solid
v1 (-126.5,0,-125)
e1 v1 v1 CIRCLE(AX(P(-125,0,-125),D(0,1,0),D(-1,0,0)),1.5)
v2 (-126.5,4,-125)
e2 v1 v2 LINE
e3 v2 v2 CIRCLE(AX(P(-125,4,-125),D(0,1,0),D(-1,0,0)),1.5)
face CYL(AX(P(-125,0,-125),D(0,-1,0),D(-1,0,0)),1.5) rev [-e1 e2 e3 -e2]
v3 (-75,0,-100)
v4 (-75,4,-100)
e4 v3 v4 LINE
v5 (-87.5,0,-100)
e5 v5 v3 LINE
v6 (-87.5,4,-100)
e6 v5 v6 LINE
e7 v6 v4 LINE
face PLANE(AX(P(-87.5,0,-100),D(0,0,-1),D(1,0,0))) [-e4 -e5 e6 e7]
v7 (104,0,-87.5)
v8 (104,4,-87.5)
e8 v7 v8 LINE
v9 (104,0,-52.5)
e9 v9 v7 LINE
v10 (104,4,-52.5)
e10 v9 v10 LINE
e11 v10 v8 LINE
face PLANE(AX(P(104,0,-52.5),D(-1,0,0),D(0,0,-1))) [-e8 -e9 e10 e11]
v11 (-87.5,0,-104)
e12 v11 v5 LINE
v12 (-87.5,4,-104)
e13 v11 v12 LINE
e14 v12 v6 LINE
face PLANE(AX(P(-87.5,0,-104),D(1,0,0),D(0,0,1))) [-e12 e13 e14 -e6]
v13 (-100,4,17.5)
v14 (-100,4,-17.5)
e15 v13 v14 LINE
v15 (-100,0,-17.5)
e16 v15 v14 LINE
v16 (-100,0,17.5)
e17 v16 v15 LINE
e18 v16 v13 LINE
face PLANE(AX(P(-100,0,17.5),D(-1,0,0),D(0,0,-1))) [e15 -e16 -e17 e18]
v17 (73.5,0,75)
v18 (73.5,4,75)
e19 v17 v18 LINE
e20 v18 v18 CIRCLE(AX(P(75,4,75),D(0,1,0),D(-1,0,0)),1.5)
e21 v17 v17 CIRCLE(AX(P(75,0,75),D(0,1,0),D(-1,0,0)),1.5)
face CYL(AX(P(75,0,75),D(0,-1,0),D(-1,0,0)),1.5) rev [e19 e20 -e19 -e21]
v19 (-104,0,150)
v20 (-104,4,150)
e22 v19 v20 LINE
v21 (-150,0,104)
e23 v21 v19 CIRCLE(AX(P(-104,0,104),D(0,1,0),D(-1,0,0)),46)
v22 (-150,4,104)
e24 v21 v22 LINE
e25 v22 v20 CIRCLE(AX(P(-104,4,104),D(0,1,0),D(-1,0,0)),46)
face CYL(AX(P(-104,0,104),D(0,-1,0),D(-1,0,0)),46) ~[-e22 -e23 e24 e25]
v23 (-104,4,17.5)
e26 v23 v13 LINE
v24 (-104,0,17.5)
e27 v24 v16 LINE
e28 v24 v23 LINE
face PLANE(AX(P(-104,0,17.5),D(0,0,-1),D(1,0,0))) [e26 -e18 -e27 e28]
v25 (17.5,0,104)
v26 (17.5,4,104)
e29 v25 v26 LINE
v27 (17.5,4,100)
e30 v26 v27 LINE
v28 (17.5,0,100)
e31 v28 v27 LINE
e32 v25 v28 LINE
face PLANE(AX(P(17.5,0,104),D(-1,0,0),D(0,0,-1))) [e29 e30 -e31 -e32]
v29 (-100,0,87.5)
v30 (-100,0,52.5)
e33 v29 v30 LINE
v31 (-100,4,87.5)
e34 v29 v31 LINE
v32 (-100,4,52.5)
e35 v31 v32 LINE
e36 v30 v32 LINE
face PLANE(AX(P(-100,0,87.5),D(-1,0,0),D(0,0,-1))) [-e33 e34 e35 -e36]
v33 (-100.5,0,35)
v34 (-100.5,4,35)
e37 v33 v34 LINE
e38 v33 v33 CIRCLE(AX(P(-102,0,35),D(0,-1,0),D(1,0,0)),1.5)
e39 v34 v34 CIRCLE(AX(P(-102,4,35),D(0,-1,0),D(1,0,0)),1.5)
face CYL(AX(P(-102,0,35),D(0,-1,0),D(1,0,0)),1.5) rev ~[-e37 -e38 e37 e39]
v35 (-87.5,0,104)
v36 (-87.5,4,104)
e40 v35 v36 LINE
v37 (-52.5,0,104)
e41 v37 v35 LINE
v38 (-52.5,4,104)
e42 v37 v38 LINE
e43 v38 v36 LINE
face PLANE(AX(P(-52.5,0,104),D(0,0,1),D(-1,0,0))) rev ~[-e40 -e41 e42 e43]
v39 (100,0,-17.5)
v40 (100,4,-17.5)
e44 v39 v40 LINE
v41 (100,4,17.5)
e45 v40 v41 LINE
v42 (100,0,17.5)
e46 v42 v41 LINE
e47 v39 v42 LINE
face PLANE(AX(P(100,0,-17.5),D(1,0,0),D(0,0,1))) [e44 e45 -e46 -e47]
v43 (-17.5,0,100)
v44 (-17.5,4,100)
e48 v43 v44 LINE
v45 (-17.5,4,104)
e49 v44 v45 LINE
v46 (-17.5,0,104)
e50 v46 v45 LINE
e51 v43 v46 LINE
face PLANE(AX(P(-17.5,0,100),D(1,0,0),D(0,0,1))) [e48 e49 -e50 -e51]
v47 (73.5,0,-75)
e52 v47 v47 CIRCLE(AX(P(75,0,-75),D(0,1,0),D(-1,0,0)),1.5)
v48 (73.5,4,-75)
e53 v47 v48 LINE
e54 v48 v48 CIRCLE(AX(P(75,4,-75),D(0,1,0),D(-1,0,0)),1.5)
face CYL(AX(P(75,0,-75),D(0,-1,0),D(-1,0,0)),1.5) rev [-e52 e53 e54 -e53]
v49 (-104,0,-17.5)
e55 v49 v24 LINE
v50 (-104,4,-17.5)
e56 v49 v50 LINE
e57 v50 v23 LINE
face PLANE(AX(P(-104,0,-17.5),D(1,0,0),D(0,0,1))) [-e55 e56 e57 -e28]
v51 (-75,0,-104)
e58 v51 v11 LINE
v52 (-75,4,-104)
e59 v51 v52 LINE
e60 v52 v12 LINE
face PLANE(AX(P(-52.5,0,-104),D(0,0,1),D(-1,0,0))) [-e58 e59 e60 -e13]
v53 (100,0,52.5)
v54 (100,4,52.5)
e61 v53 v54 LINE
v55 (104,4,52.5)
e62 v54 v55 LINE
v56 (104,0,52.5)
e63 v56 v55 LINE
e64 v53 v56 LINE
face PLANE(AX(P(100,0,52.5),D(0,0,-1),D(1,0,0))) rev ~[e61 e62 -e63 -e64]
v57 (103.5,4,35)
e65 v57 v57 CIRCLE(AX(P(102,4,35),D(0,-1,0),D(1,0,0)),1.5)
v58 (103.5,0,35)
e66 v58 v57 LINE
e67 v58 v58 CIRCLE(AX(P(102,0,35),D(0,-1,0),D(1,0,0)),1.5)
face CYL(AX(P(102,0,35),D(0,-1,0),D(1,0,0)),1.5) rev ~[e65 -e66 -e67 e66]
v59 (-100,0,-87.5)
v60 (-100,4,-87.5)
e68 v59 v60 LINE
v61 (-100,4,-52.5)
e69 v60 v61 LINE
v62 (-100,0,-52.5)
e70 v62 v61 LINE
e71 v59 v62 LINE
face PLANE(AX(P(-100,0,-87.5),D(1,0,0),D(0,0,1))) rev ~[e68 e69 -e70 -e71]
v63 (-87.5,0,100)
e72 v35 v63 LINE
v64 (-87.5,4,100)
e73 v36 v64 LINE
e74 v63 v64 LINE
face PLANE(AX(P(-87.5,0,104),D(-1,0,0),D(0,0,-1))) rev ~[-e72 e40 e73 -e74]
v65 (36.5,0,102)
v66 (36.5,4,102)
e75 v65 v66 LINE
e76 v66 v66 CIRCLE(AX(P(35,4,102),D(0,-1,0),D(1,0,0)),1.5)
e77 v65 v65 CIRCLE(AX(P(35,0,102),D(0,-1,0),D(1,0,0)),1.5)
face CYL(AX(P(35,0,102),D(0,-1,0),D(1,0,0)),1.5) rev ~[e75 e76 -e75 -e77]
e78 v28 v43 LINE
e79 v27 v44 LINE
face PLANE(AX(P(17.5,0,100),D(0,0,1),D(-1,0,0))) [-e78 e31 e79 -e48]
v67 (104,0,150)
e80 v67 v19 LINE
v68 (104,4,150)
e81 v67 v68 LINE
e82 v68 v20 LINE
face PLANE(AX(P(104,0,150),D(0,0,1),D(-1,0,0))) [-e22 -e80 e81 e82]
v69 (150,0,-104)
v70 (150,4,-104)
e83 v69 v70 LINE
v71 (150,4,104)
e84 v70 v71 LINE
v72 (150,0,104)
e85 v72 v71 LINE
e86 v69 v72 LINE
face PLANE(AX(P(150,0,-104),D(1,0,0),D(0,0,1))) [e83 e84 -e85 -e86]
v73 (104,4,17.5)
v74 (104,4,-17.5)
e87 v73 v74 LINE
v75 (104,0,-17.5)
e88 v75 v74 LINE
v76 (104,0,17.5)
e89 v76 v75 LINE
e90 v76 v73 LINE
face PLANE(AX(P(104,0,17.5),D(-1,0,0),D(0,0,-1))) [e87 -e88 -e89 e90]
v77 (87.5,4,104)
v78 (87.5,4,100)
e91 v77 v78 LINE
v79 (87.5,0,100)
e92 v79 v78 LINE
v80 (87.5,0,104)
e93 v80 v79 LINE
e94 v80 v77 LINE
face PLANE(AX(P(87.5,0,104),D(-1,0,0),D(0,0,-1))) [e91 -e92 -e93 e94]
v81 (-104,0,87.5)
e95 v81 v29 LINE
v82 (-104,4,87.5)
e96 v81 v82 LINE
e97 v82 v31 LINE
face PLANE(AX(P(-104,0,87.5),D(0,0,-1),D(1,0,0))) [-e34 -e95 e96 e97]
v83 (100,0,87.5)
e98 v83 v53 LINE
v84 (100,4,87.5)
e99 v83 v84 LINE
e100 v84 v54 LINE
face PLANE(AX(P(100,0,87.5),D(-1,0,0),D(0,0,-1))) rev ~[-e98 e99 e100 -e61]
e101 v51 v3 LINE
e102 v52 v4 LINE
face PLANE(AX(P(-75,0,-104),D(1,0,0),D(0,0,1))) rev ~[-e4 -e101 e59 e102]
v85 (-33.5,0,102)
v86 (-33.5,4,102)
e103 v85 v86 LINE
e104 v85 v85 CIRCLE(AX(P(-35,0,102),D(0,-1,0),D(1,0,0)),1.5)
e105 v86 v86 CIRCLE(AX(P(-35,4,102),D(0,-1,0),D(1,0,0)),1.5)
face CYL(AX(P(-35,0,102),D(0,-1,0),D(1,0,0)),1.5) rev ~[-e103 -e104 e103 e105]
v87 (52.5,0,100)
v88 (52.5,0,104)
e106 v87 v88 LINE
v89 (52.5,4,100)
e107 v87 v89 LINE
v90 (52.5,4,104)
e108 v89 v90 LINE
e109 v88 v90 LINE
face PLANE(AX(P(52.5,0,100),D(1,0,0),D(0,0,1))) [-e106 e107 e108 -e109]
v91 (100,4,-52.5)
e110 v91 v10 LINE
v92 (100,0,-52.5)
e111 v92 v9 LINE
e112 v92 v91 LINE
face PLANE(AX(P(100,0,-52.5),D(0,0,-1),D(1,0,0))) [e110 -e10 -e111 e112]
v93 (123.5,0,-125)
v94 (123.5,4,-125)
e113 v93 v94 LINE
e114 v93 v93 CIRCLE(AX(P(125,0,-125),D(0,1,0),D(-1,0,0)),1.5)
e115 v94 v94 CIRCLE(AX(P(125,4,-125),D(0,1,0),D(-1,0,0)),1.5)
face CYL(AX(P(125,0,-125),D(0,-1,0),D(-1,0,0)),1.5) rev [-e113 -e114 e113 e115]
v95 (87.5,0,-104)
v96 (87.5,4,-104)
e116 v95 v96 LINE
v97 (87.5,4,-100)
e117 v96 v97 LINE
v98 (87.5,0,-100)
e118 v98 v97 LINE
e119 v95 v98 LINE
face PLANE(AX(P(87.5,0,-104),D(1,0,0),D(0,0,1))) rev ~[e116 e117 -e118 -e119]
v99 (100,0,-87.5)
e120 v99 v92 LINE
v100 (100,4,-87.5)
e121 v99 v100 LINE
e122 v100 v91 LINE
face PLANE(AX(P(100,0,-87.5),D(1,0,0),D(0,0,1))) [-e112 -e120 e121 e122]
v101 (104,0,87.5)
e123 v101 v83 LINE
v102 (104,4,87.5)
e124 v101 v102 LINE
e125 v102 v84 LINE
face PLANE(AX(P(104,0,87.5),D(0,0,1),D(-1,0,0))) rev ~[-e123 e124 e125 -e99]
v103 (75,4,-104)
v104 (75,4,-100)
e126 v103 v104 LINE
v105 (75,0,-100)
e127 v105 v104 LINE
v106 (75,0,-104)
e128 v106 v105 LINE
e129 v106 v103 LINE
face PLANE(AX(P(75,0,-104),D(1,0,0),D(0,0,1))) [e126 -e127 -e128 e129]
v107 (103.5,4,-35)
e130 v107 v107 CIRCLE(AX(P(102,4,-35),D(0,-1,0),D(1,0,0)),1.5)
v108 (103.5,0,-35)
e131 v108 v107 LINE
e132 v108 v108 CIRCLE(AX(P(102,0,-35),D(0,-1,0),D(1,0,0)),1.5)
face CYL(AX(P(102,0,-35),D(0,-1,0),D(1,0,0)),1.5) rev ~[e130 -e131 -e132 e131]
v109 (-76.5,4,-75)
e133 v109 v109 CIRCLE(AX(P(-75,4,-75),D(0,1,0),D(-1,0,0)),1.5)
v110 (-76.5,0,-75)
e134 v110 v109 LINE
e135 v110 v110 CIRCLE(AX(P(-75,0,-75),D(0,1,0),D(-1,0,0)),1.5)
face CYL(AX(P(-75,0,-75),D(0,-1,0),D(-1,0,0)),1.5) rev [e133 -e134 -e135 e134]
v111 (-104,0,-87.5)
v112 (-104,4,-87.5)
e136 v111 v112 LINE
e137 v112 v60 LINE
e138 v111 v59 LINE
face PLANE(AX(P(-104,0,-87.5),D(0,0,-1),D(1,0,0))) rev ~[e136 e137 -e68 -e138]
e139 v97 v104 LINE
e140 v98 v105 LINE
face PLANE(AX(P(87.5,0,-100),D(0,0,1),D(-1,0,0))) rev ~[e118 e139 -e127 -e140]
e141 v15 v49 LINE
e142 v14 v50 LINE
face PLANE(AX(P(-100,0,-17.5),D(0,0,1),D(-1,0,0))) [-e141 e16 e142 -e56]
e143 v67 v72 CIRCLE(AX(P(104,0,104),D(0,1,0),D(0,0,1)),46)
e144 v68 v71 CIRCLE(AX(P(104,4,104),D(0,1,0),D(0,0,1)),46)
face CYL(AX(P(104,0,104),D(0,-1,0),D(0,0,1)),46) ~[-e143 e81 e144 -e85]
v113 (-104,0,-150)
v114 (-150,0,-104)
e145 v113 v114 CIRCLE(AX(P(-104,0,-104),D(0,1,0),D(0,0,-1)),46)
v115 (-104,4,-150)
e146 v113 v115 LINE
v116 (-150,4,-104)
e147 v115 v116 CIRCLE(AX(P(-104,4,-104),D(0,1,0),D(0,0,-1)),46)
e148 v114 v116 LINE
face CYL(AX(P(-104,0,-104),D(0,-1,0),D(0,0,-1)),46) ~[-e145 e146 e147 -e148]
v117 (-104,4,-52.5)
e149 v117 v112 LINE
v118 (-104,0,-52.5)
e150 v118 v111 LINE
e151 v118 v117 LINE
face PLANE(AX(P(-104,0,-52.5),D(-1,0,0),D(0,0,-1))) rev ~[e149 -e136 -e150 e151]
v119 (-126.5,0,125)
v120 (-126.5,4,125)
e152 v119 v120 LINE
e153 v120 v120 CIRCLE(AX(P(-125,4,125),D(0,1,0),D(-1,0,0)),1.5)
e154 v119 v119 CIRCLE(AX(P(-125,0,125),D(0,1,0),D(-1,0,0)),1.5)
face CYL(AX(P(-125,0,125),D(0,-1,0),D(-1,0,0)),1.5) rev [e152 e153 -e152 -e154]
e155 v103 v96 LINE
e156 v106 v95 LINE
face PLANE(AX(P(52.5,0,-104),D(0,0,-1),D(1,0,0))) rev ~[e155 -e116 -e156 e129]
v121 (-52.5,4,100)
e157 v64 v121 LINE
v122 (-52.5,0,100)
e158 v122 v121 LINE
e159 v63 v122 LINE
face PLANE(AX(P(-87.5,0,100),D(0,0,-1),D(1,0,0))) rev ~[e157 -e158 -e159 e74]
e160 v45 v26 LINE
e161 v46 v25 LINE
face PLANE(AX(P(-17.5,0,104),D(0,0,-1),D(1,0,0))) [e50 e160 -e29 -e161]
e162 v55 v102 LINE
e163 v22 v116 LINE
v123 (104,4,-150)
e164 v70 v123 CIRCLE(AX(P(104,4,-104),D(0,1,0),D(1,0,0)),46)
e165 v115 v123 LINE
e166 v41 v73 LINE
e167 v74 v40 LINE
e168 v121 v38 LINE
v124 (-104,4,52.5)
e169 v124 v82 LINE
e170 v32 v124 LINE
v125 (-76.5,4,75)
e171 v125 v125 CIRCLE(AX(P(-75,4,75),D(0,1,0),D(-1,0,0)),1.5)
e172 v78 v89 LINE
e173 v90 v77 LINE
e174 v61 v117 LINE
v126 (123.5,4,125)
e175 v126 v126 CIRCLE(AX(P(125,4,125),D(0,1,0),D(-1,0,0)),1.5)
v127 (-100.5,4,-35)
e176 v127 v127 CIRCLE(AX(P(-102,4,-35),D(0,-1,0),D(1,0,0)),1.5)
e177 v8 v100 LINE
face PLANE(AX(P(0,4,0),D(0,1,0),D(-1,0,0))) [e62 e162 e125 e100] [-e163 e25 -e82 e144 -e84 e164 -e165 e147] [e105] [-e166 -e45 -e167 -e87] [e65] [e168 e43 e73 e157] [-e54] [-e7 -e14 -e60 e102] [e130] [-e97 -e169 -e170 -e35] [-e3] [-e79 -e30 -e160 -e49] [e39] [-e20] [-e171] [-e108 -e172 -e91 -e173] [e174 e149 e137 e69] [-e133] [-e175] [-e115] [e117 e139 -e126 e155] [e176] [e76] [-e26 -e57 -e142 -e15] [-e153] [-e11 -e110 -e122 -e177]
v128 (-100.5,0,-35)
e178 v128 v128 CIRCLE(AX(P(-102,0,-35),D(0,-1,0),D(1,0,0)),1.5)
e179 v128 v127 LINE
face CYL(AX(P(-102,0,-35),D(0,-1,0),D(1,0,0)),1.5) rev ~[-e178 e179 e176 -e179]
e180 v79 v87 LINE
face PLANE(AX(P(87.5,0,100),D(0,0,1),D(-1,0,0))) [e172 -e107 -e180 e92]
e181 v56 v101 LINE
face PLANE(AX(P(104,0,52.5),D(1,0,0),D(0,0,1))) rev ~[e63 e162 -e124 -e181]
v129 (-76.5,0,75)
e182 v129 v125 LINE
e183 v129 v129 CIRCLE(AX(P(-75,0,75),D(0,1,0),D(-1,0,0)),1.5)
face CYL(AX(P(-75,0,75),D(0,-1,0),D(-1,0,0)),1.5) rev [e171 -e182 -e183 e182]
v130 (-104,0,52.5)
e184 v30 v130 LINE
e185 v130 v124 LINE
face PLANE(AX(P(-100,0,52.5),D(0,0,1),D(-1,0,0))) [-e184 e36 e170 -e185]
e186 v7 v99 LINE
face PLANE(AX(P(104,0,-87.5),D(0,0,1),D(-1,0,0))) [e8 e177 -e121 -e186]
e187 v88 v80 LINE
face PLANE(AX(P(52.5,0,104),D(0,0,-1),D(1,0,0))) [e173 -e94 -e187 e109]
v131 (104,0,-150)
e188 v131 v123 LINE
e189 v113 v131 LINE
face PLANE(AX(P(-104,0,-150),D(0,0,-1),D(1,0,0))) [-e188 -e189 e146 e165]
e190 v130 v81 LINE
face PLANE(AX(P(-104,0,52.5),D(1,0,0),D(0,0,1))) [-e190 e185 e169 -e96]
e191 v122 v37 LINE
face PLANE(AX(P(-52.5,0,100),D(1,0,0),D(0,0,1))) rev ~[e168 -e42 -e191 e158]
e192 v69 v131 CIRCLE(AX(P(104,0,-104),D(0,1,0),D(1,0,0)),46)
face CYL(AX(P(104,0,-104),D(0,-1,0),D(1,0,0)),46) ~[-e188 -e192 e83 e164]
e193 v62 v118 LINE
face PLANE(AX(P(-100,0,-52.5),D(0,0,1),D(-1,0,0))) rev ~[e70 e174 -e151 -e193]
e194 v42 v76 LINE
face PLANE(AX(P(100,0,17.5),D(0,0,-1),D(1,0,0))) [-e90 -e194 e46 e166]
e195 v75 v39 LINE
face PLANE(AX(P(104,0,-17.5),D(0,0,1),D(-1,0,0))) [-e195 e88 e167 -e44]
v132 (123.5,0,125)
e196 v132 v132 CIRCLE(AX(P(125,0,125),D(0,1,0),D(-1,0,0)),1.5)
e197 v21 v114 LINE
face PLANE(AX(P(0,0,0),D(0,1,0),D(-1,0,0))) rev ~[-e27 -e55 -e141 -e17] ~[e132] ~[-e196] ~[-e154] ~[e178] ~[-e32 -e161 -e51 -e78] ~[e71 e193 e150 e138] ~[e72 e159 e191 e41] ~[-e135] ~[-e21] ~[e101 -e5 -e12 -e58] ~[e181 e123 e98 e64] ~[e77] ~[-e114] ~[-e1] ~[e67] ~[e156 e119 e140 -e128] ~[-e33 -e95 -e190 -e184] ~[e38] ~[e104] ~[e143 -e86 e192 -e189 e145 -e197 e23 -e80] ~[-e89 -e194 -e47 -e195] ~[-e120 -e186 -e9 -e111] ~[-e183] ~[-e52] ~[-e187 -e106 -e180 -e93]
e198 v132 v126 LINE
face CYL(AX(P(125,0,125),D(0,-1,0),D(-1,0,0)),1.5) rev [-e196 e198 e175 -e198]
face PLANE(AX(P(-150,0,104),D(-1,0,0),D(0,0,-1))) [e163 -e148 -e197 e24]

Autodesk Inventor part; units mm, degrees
ref_plane "YZ Plane" through (0, 0, 0) normal (1, 0, 0) x (0, 1, 0)
ref_plane "XZ Plane" through (0, 0, 0) normal (0, 1, 0) x (-1, 0, 0)
ref_plane "XY Plane" through (0, 0, 0) normal (0, 0, 1) x (1, 0, 0)
sketch "Sketch1" plane through (0, 0, 0) normal (0, 1, 0) x (-1, 0, 0)
  line L0 (-104, 150) -> (104, 150)
  line L1 (150, 104) -> (150, -104)
  line L2 (104, -150) -> (-104, -150)
  line L3 (-150, -104) -> (-150, 104)
  line L4 (-150, 150) -> (150, -150) construction
  line L5 (150, 150) -> (-150, -150) construction
  line L6 (-100, 100) -> (100, 100) construction
  line L7 (100, 100) -> (100, -100) construction
  line L8 (100, -100) -> (-100, -100) construction
  line L9 (-100, -100) -> (-100, 100) construction
  line L10 (-100, 100) -> (100, -100) construction
  line L11 (100, 100) -> (-100, -100) construction
  line L12 (-125, 125) -> (125, 125) construction
  line L13 (125, 125) -> (125, -125) construction
  line L14 (125, -125) -> (-125, -125) construction
  line L15 (-125, -125) -> (-125, 125) construction
  line L16 (-125, 125) -> (125, -125) construction
  line L17 (125, 125) -> (-125, -125) construction
  line L18 (-75, 75) -> (75, 75) construction
  line L19 (75, 75) -> (75, -75) construction
  line L20 (75, -75) -> (-75, -75) construction
  line L21 (-75, -75) -> (-75, 75) construction
  line L22 (-75, 75) -> (75, -75) construction
  line L23 (75, 75) -> (-75, -75) construction
  line L24 (-104, -104) -> (104, -104) construction
  line L25 (104, -104) -> (104, 104) construction
  line L26 (104, 104) -> (-104, 104) construction
  line L27 (-104, 104) -> (-104, -104) construction
  circle A0 centre (125, -125) radius 1.5
  circle A1 centre (75, -75) radius 1.5
  circle A2 centre (75, 75) radius 1.5
  circle A3 centre (125, 125) radius 1.5
  circle A4 centre (-75, 75) radius 1.5
  circle A5 centre (-125, 125) radius 1.5
  circle A6 centre (-75, -75) radius 1.5
  circle A7 centre (-125, -125) radius 1.5
  line L28 (17.5, -100) -> (-17.5, -100)
  line L29 (-17.5, -100) -> (-17.5, -104)
  line L30 (-17.5, -104) -> (17.5, -104)
  line L31 (17.5, -104) -> (17.5, -100)
  arc A8 (104, -150) -> (150, -104) centre (104, -104) ccw
  arc A9 (150, 104) -> (104, 150) centre (104, 104) ccw
  arc A10 (-150, -104) -> (-104, -150) centre (-104, -104) ccw
  arc A11 (-104, 150) -> (-150, 104) centre (-104, 104) ccw
  line L32 (87.5, -100) -> (52.5, -100)
  line L33 (52.5, -100) -> (52.5, -104)
  line L34 (52.5, -104) -> (87.5, -104)
  line L35 (87.5, -104) -> (87.5, -100)
  line L36 (-87.5, -100) -> (-52.5, -100)
  line L37 (-52.5, -100) -> (-52.5, -104)
  line L38 (-52.5, -104) -> (-87.5, -104)
  line L39 (-87.5, -104) -> (-87.5, -100)
  line L40 (52.5, -104) -> (17.5, -100) construction
  line L41 (-17.5, -100) -> (-52.5, -104) construction
  line L42 (100, 17.5) -> (100, -17.5)
  line L43 (104, -17.5) -> (104, 17.5)
  line L44 (104, 17.5) -> (100, 17.5)
  line L45 (100, 52.5) -> (104, 52.5)
  line L46 (100, 87.5) -> (100, 52.5)
  line L47 (104, 87.5) -> (100, 87.5)
  line L48 (104, 52.5) -> (104, 87.5)
  line L49 (104, 52.5) -> (100, 17.5) construction
  line L50 (100, -17.5) -> (104, -17.5)
  line L51 (100, -17.5) -> (104, -52.5) construction
  line L52 (100, -52.5) -> (104, -52.5)
  line L53 (104, -87.5) -> (100, -87.5)
  line L54 (104, -52.5) -> (104, -87.5)
  line L55 (100, -87.5) -> (100, -52.5)
  line L56 (-17.5, 100) -> (17.5, 100)
  line L57 (17.5, 104) -> (-17.5, 104)
  line L58 (-17.5, 104) -> (-17.5, 100)
  line L59 (-52.5, 100) -> (-52.5, 104)
  line L60 (-87.5, 100) -> (-52.5, 100)
  line L61 (-87.5, 104) -> (-87.5, 100)
  line L62 (-52.5, 104) -> (-87.5, 104)
  line L63 (-52.5, 104) -> (-17.5, 100) construction
  line L64 (17.5, 100) -> (17.5, 104)
  line L65 (17.5, 100) -> (52.5, 104) construction
  line L66 (52.5, 100) -> (52.5, 104)
  line L67 (87.5, 104) -> (87.5, 100)
  line L68 (52.5, 104) -> (87.5, 104)
  line L69 (87.5, 100) -> (52.5, 100)
  line L70 (-100, -17.5) -> (-100, 17.5)
  line L71 (-104, 17.5) -> (-104, -17.5)
  line L72 (-104, -17.5) -> (-100, -17.5)
  line L73 (-100, -52.5) -> (-104, -52.5)
  line L74 (-100, -87.5) -> (-100, -52.5)
  line L75 (-104, -87.5) -> (-100, -87.5)
  line L76 (-104, -52.5) -> (-104, -87.5)
  line L77 (-104, -52.5) -> (-100, -17.5) construction
  line L78 (-100, 17.5) -> (-104, 17.5)
  line L79 (-100, 17.5) -> (-104, 52.5) construction
  line L80 (-100, 52.5) -> (-104, 52.5)
  line L81 (-104, 87.5) -> (-100, 87.5)
  line L82 (-104, 52.5) -> (-104, 87.5)
  line L83 (-100, 87.5) -> (-100, 52.5)
  point P0 (0, 0)
  point P1 (0, -100)
  point P2 (87.5, -102)
  point P3 (100, 0)
  point P4 (102, 87.5)
  point P5 (0, 100)
  point P6 (-87.5, 102)
  point P7 (-100, 0)
  point P8 (-102, -87.5)
  dimension "d0" = 300
  dimension "d1" = 300
  dimension "d2" = 200
  dimension "d3" = 200
  dimension "d4" = 4
  dimension "d5" = 25
  dimension "d6" = 25
  dimension "d7" = 3
  dimension "d8" = 3
  dimension "d11" = 360
  dimension "d16" = 4
  dimension "d24" = 46
  dimension "d25" = 46
  dimension "d31" = 35
  dimension "d32" = 35
  dimension "d35" = 360
extrude "Extrusion1" add sketch "Sketch1" along normal blind 4
sketch "Sketch3" plane through (0, 0, 0) normal (0, -1, 0) x (1, 0, 0)
  circle A0 centre (-35, 102) radius 1.5
  circle A1 centre (35, 102) radius 1.5
  line L0 (-52.5, 104) -> (-17.5, 100) construction
  line L1 (17.5, 100) -> (52.5, 104) construction
  circle A2 centre (-102, -35) radius 1.5
  circle A3 centre (-102, 35) radius 1.5
  circle A4 centre (35, -102) radius 1.5
  circle A5 centre (-35, -102) radius 1.5
  circle A6 centre (102, 35) radius 1.5
  circle A7 centre (102, -35) radius 1.5
  point P0 (0, 0)
  dimension "d44" = 3
  dimension "d45" = 3
  dimension "d48" = 360
extrude "Extrusion2" cut sketch "Sketch3" against normal up to next
sketch "Sketch4" plane through (0, 0, 0) normal (0, -1, 0) x (1, 0, 0)
  line L0 (87.5, -100) -> (-87.5, -100)
  line L1 (-87.5, -100) -> (-87.5, -104)
  line L2 (-87.5, -104) -> (-75, -104)
  line L3 (-75, -104) -> (-75, -135)
  line L4 (-75, -135) -> (75, -135)
  line L5 (75, -135) -> (75, -104)
  line L6 (75, -104) -> (87.5, -104)
  line L7 (87.5, -104) -> (87.5, -100)
  circle A0 centre (102, 35) radius 1.5
  circle A1 centre (-102, -35) radius 1.5
  circle A2 centre (-35, 102) radius 1.5
  circle A3 centre (102, -35) radius 1.5
  circle A4 centre (-102, 35) radius 1.5
  circle A5 centre (35, 102) radius 1.5
  circle A6 centre (125, -125) radius 1.5
  circle A7 centre (125, 125) radius 1.5
  circle A8 centre (-125, 125) radius 1.5
  circle A9 centre (-125, -125) radius 1.5
  line L8 (100, 17.5) -> (100, -17.5)
  line L9 (100, -17.5) -> (104, -17.5)
  line L10 (104, -17.5) -> (104, 17.5)
  line L11 (104, 17.5) -> (100, 17.5)
  line L12 (100, 52.5) -> (104, 52.5)
  line L13 (104, 52.5) -> (104, 87.5)
  line L14 (104, 87.5) -> (100, 87.5)
  line L15 (100, 87.5) -> (100, 52.5)
  line L16 (100, -52.5) -> (100, -87.5)
  line L17 (100, -87.5) -> (104, -87.5)
  line L18 (104, -87.5) -> (104, -52.5)
  line L19 (104, -52.5) -> (100, -52.5)
  line L20 (-17.5, 100) -> (17.5, 100)
  line L21 (17.5, 100) -> (17.5, 104)
  line L22 (17.5, 104) -> (-17.5, 104)
  line L23 (-17.5, 104) -> (-17.5, 100)
  line L24 (-52.5, 100) -> (-52.5, 104)
  line L25 (-52.5, 104) -> (-87.5, 104)
  line L26 (-87.5, 104) -> (-87.5, 100)
  line L27 (-87.5, 100) -> (-52.5, 100)
  line L28 (52.5, 100) -> (87.5, 100)
  line L29 (87.5, 100) -> (87.5, 104)
  line L30 (87.5, 104) -> (52.5, 104)
  line L31 (52.5, 104) -> (52.5, 100)
  line L32 (-100, -17.5) -> (-100, 17.5)
  line L33 (-100, 17.5) -> (-104, 17.5)
  line L34 (-104, 17.5) -> (-104, -17.5)
  line L35 (-104, -17.5) -> (-100, -17.5)
  line L36 (-100, -52.5) -> (-104, -52.5)
  line L37 (-104, -52.5) -> (-104, -87.5)
  line L38 (-104, -87.5) -> (-100, -87.5)
  line L39 (-100, -87.5) -> (-100, -52.5)
  line L40 (-100, 52.5) -> (-100, 87.5)
  line L41 (-100, 87.5) -> (-104, 87.5)
  line L42 (-104, 87.5) -> (-104, 52.5)
  line L43 (-104, 52.5) -> (-100, 52.5)
  circle A10 centre (-75, -75) radius 1.5
  circle A11 centre (-75, 75) radius 1.5
  circle A12 centre (75, 75) radius 1.5
  circle A13 centre (75, -75) radius 1.5
  arc A14 (-150, -104) -> (-104, -150) centre (-104, -104) ccw
  line L44 (-150, -104) -> (-150, 104)
  arc A15 (-104, 150) -> (-150, 104) centre (-104, 104) ccw
  line L45 (-104, 150) -> (104, 150)
  arc A16 (150, 104) -> (104, 150) centre (104, 104) ccw
  line L46 (150, 104) -> (150, -104)
  arc A17 (104, -150) -> (150, -104) centre (104, -104) ccw
  line L47 (104, -150) -> (-104, -150)
  circle A18 centre (-102, 35) radius 1.5 projected
  circle A19 centre (102, -35) radius 1.5 projected
  circle A20 centre (35, -102) radius 1.5 projected
  circle A21 centre (35, 102) radius 1.5 projected
  circle A22 centre (-102, -35) radius 1.5 projected
  circle A23 centre (102, 35) radius 1.5 projected
  circle A24 centre (-35, -102) radius 1.5 projected
  circle A25 centre (-35, 102) radius 1.5 projected
  circle A26 centre (-125, -125) radius 1.5 projected
  circle A27 centre (-125, 125) radius 1.5 projected
  circle A28 centre (125, 125) radius 1.5 projected
  circle A29 centre (125, -125) radius 1.5 projected
  line L48 (17.5, -100) -> (-17.5, -100) projected
  line L49 (-17.5, -100) -> (-17.5, -104) projected
  line L50 (-17.5, -104) -> (17.5, -104) projected
  line L51 (17.5, -104) -> (17.5, -100) projected
  line L52 (-52.5, -100) -> (-87.5, -100) projected
  line L53 (-87.5, -100) -> (-87.5, -104) projected
  line L54 (-87.5, -104) -> (-52.5, -104) projected
  line L55 (-52.5, -104) -> (-52.5, -100) projected
  line L56 (87.5, -104) -> (87.5, -100) projected
  line L57 (87.5, -100) -> (52.5, -100) projected
  line L58 (52.5, -100) -> (52.5, -104) projected
  line L59 (52.5, -104) -> (87.5, -104) projected
  line L60 (-100, -17.5) -> (-100, 17.5) projected
  line L61 (-100, 17.5) -> (-104, 17.5) projected
  line L62 (-104, 17.5) -> (-104, -17.5) projected
  line L63 (-104, -17.5) -> (-100, -17.5) projected
  line L64 (-104, 52.5) -> (-100, 52.5) projected
  line L65 (-100, 52.5) -> (-100, 87.5) projected
  line L66 (-100, 87.5) -> (-104, 87.5) projected
  line L67 (-104, 87.5) -> (-104, 52.5) projected
  line L68 (-100, -87.5) -> (-100, -52.5) projected
  line L69 (-100, -52.5) -> (-104, -52.5) projected
  line L70 (-104, -52.5) -> (-104, -87.5) projected
  line L71 (-104, -87.5) -> (-100, -87.5) projected
  line L72 (-17.5, 100) -> (17.5, 100) projected
  line L73 (17.5, 100) -> (17.5, 104) projected
  line L74 (17.5, 104) -> (-17.5, 104) projected
  line L75 (-17.5, 104) -> (-17.5, 100) projected
  line L76 (52.5, 104) -> (52.5, 100) projected
  line L77 (52.5, 100) -> (87.5, 100) projected
  line L78 (87.5, 100) -> (87.5, 104) projected
  line L79 (87.5, 104) -> (52.5, 104) projected
  line L80 (-87.5, 100) -> (-52.5, 100) projected
  line L81 (-52.5, 100) -> (-52.5, 104) projected
  line L82 (-52.5, 104) -> (-87.5, 104) projected
  line L83 (-87.5, 104) -> (-87.5, 100) projected
  line L84 (100, 17.5) -> (100, -17.5) projected
  line L85 (100, -17.5) -> (104, -17.5) projected
  line L86 (104, -17.5) -> (104, 17.5) projected
  line L87 (104, 17.5) -> (100, 17.5) projected
  line L88 (104, -52.5) -> (100, -52.5) projected
  line L89 (100, -52.5) -> (100, -87.5) projected
  line L90 (100, -87.5) -> (104, -87.5) projected
  line L91 (104, -87.5) -> (104, -52.5) projected
  line L92 (100, 87.5) -> (100, 52.5) projected
  line L93 (100, 52.5) -> (104, 52.5) projected
  line L94 (104, 52.5) -> (104, 87.5) projected
  line L95 (104, 87.5) -> (100, 87.5) projected
  circle A30 centre (75, -75) radius 1.5 projected
  circle A31 centre (75, 75) radius 1.5 projected
  circle A32 centre (-75, 75) radius 1.5 projected
  circle A33 centre (-75, -75) radius 1.5 projected
  arc A34 (104, -150) -> (150, -104) centre (104, -104) ccw projected
  line L96 (104, -150) -> (-104, -150) projected
  arc A35 (-150, -104) -> (-104, -150) centre (-104, -104) ccw projected
  line L97 (-150, -104) -> (-150, 104) projected
  arc A36 (-104, 150) -> (-150, 104) centre (-104, 104) ccw projected
  line L98 (-104, 150) -> (104, 150) projected
  arc A37 (150, 104) -> (104, 150) centre (104, 104) ccw projected
  line L99 (150, 104) -> (150, -104) projected
  line L100 (-75, -104) -> (-75, -100)
  line L101 (75, -104) -> (75, -100)
  point P0 (0, 0)
extrude "Extrusion3" add sketch "Sketch4" against normal up to surface (4 mm away) contours L101 L59 L58 L0 | L51 L50 L49 L0 | L55 L54 L100 L0 | A20 | A24
properties part number "Baseplate" material "MDF Medium Density Fiberboard"
